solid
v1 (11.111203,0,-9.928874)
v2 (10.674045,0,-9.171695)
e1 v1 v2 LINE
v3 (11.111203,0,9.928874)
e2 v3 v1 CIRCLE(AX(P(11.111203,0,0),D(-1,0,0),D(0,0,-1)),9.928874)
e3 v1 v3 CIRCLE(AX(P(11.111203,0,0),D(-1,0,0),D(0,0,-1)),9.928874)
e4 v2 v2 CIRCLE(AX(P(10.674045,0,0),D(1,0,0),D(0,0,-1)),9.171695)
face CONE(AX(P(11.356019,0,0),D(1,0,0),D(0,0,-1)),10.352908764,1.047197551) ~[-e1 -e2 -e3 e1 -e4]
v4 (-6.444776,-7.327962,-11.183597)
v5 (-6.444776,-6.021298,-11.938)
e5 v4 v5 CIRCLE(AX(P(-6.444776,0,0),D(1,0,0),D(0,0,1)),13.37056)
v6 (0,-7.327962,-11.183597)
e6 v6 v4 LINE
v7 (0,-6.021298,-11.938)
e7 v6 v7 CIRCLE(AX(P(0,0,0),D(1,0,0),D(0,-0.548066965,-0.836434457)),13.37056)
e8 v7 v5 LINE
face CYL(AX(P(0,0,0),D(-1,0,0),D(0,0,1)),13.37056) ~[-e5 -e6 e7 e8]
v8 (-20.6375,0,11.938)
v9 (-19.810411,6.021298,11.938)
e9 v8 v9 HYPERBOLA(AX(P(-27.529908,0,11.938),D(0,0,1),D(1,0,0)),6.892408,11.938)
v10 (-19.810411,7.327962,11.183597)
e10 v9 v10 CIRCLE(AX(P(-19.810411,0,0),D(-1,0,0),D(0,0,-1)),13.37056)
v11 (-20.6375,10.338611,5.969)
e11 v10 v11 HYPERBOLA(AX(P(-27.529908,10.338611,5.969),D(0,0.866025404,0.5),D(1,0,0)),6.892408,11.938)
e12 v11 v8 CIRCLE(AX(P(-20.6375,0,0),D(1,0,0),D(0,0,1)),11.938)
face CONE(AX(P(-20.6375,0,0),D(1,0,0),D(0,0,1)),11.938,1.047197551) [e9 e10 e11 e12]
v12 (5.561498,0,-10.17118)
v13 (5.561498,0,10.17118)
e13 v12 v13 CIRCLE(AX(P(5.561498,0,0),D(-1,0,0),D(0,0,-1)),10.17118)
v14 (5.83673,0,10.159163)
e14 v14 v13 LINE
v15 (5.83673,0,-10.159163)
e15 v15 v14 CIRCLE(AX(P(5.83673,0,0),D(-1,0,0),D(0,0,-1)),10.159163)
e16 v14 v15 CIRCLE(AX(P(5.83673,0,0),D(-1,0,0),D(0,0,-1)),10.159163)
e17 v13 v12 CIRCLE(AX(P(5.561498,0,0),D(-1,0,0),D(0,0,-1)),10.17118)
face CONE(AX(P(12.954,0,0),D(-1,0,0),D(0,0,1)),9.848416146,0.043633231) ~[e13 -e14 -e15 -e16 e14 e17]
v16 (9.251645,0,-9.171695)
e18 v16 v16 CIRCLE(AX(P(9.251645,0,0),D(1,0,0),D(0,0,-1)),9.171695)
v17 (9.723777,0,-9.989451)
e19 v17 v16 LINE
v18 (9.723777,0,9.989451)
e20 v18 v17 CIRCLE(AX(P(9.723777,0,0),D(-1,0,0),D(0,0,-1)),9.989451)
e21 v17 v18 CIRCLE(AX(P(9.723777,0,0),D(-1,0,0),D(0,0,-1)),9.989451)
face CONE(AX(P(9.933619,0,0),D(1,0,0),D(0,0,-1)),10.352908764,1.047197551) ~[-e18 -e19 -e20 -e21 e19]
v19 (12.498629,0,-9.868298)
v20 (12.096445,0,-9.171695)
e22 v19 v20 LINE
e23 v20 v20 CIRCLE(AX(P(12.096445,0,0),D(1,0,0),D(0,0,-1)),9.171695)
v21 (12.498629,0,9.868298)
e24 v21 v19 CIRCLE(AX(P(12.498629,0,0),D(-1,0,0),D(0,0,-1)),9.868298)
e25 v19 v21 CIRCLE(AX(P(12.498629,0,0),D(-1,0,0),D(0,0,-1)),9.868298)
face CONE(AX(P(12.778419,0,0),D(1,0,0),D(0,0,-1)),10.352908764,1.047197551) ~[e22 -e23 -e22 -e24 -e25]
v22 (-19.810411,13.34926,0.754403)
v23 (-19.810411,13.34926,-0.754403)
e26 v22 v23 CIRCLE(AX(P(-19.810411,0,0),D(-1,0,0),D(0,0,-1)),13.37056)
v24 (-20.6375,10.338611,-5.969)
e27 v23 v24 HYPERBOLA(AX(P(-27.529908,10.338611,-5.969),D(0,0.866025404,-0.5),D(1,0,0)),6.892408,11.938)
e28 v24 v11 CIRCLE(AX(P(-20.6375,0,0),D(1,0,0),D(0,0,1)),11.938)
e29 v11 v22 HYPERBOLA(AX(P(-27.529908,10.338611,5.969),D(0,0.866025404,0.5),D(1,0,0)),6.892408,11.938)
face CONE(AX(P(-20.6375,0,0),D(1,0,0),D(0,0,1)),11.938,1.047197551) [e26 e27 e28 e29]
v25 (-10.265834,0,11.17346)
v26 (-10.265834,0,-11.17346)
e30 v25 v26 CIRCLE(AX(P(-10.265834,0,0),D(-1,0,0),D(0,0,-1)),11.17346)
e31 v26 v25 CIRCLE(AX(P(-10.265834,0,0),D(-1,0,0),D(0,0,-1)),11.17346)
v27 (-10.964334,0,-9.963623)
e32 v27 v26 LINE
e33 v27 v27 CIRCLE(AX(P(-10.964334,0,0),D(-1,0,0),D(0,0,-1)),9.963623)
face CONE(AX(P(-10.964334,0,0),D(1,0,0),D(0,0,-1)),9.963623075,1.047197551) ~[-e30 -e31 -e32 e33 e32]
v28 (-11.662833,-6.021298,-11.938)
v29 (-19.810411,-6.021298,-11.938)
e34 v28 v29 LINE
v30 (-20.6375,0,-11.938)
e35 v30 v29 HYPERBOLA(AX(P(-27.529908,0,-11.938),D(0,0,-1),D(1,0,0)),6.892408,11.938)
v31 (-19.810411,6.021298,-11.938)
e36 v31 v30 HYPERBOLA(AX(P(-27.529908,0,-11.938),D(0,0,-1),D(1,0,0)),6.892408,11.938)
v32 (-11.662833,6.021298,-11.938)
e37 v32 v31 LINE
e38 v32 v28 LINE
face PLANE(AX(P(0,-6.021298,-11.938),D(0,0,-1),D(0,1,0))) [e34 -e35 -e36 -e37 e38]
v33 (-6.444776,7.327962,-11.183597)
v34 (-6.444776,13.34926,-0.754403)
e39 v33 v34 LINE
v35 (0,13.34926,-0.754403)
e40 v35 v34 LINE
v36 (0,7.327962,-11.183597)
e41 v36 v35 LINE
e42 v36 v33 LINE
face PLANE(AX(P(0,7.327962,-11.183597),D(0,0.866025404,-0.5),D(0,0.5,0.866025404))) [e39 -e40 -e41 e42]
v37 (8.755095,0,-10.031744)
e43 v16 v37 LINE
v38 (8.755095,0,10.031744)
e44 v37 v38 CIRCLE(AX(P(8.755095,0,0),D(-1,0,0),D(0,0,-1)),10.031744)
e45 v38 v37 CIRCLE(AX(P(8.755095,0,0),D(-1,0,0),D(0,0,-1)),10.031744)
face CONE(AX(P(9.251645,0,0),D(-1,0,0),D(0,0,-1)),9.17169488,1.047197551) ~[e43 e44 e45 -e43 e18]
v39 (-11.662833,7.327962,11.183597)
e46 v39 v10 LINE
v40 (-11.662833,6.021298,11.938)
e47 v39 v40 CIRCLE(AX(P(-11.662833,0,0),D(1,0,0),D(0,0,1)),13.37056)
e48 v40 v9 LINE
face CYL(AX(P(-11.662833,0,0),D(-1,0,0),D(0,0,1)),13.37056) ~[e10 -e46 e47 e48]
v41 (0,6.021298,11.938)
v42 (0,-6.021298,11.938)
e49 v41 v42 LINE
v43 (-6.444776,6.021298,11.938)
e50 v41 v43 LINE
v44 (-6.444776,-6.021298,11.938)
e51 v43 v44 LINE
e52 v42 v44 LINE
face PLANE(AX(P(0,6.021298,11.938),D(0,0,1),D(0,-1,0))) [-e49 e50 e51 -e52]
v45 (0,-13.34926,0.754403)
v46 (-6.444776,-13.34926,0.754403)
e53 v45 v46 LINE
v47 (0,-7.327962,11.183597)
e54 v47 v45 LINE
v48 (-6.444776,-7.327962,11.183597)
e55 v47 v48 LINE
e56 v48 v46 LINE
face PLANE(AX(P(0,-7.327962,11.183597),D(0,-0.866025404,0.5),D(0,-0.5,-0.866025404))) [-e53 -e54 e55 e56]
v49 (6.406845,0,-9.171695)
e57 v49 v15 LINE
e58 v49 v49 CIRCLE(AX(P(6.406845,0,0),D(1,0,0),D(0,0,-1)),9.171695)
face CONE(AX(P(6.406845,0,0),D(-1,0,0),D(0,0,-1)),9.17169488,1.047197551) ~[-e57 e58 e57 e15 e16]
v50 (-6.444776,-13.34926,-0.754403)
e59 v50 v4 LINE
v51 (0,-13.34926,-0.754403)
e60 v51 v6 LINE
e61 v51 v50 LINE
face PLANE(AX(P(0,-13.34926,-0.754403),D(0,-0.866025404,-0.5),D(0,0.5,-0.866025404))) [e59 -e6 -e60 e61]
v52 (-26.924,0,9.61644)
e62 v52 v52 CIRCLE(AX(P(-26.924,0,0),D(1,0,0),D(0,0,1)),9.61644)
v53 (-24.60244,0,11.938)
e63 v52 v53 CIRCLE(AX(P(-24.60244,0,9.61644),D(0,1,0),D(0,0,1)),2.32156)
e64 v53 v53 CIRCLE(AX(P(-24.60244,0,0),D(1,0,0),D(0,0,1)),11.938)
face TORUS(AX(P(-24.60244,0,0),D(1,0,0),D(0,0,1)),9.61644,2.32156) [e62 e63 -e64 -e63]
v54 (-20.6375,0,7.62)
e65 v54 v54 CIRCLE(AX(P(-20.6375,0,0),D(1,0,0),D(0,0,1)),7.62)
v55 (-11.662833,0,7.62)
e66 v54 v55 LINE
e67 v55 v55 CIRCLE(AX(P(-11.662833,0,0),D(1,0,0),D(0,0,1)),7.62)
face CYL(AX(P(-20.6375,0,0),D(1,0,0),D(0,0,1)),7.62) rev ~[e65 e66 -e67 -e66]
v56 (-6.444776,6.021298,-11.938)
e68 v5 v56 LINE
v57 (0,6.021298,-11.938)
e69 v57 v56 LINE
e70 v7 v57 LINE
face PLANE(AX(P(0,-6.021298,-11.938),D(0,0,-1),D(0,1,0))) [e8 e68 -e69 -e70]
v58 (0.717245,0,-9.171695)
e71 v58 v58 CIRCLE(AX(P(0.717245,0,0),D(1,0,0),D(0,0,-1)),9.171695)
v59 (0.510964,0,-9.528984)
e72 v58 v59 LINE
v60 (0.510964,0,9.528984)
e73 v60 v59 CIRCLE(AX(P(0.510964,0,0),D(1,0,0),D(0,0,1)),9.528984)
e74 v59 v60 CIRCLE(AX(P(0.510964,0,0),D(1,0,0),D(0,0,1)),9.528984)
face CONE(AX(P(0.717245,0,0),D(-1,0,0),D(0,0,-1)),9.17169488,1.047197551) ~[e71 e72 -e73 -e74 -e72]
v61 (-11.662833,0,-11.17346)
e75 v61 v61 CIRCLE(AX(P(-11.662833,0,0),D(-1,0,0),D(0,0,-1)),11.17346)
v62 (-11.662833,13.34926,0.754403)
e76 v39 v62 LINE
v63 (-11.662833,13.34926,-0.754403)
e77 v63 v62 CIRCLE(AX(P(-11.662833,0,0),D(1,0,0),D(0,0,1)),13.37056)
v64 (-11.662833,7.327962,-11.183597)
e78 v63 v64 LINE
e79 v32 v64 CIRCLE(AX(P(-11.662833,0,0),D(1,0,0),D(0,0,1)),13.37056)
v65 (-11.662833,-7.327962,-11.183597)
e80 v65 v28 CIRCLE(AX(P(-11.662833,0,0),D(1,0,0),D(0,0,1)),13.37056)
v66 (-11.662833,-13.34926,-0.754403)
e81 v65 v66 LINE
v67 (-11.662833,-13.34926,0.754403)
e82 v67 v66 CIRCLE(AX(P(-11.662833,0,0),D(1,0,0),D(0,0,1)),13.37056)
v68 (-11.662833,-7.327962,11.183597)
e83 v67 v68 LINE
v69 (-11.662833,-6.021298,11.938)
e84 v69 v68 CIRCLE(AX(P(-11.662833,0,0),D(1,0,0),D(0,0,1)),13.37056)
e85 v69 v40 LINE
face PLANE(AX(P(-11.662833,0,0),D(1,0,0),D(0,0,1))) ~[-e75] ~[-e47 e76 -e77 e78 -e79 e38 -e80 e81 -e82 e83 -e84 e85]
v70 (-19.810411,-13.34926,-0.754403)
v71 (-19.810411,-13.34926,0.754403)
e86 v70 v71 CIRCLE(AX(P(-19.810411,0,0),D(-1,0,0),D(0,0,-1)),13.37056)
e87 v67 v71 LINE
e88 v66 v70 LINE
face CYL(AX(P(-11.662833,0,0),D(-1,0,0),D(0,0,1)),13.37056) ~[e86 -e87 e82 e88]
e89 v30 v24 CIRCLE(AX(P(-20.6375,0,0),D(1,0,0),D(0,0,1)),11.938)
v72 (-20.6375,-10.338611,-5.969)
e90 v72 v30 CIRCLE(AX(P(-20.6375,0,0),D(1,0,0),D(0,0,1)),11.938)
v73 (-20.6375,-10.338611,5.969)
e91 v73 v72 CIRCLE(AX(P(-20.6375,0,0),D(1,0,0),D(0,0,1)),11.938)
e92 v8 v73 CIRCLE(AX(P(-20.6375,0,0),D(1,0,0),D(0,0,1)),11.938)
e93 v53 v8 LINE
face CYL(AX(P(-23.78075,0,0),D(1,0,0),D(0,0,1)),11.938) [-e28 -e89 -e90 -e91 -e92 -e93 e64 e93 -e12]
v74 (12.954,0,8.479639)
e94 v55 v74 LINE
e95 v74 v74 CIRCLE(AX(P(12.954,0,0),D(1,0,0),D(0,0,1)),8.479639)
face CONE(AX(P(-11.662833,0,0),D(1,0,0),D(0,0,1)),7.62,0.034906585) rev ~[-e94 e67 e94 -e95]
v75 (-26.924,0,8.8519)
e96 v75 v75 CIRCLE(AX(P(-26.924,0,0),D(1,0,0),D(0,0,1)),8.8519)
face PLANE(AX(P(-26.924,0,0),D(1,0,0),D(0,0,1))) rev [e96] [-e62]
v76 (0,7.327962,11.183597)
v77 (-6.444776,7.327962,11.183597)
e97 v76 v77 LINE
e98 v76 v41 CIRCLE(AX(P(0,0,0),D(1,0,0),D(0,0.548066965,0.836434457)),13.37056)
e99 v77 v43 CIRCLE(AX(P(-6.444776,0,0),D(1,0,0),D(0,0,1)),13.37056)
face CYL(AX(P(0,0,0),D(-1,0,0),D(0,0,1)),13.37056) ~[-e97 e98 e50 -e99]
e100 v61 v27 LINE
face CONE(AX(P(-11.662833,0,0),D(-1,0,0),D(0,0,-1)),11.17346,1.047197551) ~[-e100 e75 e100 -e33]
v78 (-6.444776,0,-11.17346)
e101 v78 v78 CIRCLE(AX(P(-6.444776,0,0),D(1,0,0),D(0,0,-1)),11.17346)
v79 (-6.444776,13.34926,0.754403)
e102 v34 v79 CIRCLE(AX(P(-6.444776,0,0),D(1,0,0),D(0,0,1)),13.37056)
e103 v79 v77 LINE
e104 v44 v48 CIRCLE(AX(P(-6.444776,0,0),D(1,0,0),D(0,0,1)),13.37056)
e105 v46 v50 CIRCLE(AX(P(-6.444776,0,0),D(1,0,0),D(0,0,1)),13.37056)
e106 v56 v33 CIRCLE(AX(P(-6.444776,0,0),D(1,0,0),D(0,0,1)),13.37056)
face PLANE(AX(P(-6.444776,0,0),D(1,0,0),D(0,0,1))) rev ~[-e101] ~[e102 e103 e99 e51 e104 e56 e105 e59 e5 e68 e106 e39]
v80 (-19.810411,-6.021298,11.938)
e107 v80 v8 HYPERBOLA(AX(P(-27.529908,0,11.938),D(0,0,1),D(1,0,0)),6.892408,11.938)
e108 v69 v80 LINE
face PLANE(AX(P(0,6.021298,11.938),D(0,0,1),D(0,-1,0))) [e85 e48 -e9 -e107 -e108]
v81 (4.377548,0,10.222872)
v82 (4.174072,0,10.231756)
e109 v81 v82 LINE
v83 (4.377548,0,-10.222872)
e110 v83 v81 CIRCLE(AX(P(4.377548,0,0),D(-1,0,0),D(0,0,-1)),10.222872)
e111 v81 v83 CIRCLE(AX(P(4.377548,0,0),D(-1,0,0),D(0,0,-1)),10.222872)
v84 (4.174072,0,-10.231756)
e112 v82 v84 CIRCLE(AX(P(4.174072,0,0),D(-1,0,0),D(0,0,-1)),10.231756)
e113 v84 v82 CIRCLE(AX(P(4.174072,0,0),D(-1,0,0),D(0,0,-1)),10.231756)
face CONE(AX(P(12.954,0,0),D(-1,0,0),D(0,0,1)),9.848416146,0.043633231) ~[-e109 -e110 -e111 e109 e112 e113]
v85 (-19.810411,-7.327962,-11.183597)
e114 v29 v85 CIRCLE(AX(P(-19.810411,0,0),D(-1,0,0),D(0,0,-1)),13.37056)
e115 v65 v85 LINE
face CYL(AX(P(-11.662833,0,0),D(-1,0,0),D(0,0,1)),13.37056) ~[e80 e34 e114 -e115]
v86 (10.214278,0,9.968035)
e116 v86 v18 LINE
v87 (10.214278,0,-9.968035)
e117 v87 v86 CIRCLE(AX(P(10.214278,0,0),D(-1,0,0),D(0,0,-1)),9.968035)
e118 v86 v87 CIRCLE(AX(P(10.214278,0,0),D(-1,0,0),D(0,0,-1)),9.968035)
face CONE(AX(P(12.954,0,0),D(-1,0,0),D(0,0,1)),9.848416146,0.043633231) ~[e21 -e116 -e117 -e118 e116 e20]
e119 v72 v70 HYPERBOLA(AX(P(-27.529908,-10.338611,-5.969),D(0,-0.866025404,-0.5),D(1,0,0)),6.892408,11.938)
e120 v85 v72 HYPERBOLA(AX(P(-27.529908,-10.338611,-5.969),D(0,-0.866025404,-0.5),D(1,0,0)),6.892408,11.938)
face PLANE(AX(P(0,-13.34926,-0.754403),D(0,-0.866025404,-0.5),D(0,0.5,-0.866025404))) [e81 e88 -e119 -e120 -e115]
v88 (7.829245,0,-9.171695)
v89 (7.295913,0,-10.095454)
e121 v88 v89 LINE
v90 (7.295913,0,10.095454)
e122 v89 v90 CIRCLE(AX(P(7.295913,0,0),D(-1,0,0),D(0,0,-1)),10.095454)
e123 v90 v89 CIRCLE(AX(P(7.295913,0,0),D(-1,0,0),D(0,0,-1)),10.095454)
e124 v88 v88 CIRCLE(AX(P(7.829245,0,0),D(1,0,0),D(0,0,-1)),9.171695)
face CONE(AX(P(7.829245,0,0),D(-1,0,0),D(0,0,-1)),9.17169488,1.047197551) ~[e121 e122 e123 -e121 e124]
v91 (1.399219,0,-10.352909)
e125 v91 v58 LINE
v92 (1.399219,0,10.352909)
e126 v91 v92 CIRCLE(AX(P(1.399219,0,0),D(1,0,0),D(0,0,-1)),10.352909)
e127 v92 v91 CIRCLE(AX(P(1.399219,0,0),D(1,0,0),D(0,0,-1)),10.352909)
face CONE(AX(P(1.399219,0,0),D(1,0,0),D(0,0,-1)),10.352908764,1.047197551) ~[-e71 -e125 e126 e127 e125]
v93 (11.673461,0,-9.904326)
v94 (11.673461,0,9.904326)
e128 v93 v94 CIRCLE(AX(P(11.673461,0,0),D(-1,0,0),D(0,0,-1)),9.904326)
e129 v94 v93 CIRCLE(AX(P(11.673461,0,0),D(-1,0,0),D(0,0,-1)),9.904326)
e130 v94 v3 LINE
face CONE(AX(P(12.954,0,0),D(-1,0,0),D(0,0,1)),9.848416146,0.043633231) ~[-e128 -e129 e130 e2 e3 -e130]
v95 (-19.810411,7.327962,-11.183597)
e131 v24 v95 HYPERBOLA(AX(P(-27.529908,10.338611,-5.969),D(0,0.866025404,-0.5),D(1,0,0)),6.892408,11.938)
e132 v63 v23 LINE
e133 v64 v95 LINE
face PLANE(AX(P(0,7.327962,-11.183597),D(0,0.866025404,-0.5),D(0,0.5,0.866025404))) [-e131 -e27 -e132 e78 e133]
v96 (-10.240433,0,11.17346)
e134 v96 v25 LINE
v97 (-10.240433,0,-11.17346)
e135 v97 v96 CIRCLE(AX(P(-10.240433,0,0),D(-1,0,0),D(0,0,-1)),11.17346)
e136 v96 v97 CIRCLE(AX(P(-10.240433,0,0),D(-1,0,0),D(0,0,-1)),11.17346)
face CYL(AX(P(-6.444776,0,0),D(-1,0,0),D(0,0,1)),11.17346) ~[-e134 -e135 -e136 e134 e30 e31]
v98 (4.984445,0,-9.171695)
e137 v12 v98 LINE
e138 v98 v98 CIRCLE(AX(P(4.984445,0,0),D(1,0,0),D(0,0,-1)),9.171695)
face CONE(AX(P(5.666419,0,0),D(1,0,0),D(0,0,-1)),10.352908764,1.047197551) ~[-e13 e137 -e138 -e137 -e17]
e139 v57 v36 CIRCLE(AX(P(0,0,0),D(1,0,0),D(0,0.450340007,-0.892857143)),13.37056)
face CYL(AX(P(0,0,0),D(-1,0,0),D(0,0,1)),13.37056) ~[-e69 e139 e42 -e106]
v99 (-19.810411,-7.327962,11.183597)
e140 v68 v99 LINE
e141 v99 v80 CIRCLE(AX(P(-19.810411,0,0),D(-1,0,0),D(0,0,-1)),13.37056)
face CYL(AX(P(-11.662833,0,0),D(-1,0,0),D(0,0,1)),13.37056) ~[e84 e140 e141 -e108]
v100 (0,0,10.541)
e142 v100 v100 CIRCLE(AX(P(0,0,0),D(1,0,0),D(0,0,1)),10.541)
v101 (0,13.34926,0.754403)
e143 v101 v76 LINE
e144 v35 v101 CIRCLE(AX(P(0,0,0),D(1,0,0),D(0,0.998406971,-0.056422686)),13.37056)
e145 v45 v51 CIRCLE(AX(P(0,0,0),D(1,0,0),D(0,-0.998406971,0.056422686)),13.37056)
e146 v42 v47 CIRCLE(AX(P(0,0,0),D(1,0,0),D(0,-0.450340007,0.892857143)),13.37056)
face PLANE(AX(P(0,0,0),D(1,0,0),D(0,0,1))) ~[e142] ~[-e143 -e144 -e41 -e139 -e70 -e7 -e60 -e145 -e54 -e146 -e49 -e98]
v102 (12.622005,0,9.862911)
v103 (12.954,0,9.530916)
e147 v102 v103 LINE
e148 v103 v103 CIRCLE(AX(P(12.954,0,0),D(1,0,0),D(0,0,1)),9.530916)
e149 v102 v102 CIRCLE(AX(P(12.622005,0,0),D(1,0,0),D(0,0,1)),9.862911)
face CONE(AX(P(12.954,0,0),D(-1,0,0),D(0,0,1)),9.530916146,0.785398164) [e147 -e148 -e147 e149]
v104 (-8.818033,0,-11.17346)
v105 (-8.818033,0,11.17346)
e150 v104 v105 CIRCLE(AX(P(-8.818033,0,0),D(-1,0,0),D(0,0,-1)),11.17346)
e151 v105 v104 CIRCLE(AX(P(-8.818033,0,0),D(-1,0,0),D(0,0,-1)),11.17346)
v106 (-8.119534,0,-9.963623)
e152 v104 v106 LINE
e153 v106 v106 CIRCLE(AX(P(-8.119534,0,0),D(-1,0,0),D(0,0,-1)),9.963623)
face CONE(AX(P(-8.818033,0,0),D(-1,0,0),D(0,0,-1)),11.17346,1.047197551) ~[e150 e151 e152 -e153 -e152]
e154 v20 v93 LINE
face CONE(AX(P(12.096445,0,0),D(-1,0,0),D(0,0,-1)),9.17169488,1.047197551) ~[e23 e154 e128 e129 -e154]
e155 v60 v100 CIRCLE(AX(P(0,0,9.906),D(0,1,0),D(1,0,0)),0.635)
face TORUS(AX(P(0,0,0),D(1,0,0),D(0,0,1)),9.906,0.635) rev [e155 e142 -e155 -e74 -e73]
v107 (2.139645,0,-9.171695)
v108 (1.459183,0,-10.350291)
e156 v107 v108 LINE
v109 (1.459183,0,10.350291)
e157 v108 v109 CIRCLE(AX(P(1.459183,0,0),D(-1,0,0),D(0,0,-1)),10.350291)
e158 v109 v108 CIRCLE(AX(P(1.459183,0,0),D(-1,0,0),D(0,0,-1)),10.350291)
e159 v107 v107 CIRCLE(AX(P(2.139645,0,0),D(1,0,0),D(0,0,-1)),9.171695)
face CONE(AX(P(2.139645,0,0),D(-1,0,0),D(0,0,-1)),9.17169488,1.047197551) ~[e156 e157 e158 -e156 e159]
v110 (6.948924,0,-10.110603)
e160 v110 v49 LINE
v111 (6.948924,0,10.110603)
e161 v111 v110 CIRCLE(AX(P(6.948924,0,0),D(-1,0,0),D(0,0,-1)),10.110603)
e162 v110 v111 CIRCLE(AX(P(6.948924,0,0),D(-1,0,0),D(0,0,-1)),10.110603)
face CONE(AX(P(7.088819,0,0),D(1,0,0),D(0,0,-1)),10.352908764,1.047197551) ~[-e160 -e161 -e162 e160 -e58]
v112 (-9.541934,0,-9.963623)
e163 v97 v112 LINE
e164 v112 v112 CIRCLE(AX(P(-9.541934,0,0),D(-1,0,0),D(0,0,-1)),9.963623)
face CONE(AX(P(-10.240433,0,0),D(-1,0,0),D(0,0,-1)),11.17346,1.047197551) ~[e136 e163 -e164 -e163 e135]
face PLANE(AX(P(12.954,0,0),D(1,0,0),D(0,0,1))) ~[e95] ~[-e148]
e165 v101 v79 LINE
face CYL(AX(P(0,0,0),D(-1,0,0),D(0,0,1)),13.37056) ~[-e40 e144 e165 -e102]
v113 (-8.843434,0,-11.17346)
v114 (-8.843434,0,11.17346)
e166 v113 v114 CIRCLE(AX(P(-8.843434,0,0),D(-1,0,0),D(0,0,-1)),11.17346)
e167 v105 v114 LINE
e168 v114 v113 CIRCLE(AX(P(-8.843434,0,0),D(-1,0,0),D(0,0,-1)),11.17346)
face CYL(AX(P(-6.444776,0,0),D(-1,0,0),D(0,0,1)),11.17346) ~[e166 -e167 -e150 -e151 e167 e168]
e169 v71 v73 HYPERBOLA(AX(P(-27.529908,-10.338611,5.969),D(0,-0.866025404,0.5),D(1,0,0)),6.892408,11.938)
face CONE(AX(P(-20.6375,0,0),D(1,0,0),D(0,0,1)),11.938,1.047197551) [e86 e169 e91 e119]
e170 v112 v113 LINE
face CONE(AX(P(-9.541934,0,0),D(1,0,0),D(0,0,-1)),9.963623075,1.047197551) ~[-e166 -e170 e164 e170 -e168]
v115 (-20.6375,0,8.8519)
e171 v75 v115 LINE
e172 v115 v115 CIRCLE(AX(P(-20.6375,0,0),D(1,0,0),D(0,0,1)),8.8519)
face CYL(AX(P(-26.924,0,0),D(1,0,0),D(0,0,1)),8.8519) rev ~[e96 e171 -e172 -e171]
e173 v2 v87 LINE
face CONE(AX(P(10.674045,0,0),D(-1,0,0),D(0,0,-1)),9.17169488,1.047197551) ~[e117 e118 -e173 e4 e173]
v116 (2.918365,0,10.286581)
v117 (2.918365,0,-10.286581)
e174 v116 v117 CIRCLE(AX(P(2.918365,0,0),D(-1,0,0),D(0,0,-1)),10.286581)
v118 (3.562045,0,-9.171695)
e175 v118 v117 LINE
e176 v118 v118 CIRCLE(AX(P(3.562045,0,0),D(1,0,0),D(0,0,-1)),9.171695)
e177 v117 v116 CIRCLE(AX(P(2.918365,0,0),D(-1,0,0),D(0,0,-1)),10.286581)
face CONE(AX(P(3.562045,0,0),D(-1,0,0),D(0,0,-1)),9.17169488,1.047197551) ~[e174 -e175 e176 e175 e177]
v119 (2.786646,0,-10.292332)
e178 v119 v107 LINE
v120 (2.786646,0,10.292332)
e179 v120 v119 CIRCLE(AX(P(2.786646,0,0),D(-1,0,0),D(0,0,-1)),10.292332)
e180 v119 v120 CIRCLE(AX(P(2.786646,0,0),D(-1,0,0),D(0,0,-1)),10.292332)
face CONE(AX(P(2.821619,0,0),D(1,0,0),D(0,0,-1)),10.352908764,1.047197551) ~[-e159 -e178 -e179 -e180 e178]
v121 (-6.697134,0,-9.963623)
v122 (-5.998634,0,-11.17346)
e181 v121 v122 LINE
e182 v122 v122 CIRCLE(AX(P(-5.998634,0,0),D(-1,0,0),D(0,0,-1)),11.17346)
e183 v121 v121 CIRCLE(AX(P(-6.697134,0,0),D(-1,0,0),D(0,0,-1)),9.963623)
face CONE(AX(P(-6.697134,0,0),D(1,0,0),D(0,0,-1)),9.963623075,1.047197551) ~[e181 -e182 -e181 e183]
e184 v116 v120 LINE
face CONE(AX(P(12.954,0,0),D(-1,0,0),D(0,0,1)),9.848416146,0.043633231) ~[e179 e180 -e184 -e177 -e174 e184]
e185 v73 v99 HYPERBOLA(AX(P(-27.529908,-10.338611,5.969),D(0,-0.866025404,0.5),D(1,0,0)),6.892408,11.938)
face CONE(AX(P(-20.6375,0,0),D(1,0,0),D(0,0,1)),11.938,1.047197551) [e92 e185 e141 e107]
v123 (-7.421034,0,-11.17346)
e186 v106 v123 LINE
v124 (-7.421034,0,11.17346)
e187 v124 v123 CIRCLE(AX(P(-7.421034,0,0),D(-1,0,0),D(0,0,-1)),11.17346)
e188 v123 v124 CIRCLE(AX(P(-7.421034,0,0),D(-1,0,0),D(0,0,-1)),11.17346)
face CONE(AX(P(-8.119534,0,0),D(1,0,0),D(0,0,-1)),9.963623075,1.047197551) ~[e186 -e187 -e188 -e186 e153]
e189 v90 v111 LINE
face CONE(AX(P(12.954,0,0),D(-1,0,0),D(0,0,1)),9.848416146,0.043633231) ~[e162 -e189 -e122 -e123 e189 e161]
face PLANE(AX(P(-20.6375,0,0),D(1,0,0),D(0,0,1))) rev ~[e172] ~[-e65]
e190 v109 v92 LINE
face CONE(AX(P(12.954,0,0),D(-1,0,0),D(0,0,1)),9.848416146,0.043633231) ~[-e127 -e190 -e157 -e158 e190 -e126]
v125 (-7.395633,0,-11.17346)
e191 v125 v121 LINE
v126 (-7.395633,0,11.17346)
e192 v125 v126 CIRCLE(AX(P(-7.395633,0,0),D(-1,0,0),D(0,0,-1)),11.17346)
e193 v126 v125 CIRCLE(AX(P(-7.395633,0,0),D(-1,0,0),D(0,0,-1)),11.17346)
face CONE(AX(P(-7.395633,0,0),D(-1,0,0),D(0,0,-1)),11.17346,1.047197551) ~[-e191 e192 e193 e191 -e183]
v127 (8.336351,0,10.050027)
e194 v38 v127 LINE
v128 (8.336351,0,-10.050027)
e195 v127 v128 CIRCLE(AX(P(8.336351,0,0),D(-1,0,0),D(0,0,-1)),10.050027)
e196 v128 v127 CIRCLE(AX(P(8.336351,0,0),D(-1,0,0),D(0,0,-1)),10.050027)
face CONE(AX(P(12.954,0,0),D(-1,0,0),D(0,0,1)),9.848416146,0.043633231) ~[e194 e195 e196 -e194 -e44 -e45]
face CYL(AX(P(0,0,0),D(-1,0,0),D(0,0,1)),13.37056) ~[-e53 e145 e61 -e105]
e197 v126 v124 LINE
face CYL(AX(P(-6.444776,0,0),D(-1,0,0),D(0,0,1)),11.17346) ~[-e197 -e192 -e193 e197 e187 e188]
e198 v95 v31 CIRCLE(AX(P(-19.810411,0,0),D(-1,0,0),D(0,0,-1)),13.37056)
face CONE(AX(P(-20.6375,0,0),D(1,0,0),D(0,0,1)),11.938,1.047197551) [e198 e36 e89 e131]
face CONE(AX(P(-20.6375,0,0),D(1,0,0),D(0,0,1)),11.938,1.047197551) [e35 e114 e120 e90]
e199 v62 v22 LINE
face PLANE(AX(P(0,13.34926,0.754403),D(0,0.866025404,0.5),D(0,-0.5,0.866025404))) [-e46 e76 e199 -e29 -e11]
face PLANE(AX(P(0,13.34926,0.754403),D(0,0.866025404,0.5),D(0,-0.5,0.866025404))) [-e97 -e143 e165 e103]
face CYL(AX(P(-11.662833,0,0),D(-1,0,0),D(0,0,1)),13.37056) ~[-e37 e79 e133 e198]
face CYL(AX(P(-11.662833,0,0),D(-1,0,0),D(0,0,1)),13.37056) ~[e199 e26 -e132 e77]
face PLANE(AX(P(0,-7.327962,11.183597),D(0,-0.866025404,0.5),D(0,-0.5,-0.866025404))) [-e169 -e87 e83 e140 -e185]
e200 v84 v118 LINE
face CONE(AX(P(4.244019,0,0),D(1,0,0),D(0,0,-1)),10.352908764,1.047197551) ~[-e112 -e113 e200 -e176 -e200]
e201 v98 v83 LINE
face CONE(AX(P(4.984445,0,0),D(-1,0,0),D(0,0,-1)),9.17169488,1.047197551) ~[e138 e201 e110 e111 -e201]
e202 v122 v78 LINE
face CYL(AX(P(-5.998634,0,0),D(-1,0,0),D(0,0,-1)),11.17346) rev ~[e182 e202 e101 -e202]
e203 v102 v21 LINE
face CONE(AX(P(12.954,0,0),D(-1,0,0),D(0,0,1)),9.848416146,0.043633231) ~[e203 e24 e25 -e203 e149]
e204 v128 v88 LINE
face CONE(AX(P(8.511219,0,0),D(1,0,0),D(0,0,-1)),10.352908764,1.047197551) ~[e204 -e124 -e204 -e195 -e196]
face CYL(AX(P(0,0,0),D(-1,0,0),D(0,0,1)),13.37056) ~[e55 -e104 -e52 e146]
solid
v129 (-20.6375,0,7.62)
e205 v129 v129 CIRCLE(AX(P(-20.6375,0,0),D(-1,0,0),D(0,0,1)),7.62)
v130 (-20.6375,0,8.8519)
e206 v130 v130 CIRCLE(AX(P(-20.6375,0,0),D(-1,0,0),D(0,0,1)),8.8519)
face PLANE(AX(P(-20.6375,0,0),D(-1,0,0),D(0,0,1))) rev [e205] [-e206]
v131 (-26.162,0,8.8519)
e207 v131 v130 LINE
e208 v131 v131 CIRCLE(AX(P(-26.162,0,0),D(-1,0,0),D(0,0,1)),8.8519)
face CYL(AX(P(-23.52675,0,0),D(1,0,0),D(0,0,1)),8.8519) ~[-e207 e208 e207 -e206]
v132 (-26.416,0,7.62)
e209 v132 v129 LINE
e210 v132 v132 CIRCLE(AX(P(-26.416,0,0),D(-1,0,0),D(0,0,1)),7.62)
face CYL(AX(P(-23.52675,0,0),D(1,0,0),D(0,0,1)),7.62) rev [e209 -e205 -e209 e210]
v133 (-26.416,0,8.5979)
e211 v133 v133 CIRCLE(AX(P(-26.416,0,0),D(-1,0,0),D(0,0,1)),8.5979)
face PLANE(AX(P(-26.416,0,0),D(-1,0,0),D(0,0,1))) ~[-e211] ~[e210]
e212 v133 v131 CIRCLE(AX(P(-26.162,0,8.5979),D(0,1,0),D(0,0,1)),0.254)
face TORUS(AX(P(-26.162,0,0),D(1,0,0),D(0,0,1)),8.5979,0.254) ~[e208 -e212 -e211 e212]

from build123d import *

# Parameters (mm, degrees)
SKETCH2_OUTSIDE_W  = 39.734
SKETCH2_OUTSIDE_H  = 39.734
CUT_EXTRUDE1_DEPTH = 20.6375
SKETCH14_W         = 6.2865
SKETCH14_H         = 1.397
CHAMFER1_SIZE      = 0.332311511
CHAMFER1_SIZE2     = 0.3175
SKETCH3_OUTSIDE_W  = 156.43
SKETCH3_OUTSIDE_H  = 159.296
SKETCH3_OUTSIDE_R  = 11.938
CUT_EXTRUDE2_DEPTH = 34.5915
CUT_EXTRUDE2_DRAFT = -60
SKETCH9_W          = 5.7785
SKETCH9_H          = 1.2319
FILLET1_R          = 2.32156
LPATTERN1_COUNT    = 4
LPATTERN1_PITCH    = 1.4224
LPATTERN2_COUNT    = 10
LPATTERN2_PITCH    = 1.4224
SKETCH15_R         = 0.635
FILLET3_R          = 0.254


with BuildPart() as part:
    # Sketch1 → Revolve1 (revolve)
    with BuildSketch(Plane.XY, mode=Mode.PRIVATE) as revolve1_sk:
        Polygon((-11.662833333, 11.17346), (-11.662833333, 13.37056), (-20.6375, 13.37056), (-20.6375, 10.541), (-26.924, 10.541), (-26.924, 8.8519), (-20.6375, 8.8519), (-20.6375, 7.62), (-11.662833333, 7.62), (12.954, 8.479638762), (12.954, 9.848416146), (0, 10.414), (0, 13.37056), (-6.444776119, 13.37056), (-6.444776119, 11.17346), align=None)
    revolve(revolve1_sk.sketch.rotate(Axis((-18.386021217, 0, 0), (1, 0, 0)), 90), axis=Axis((-18.386021217, 0, 0), (1, 0, 0)))  # turned: the seam where the file's is

    # Sketch2 outside → Cut-Extrude1 (cut)
    with BuildSketch(Plane(origin=(0, 0, 0), x_dir=(0, 0, -1), z_dir=(1, 0, 0))):
        Rectangle(SKETCH2_OUTSIDE_W, SKETCH2_OUTSIDE_H)
        with BuildLine():
            Line((11.938, -6.021298092), (11.938, 6.021298092))
            ThreePointArc((11.938, 6.021298092), (11.579244623, 6.68528), (11.183597111, 7.327962224))
            Line((11.183597111, 7.327962224), (0.754402889, 13.349260316))
            ThreePointArc((0.754402889, 13.349260316), (0, 13.37056), (-0.754402889, 13.349260316))
            Line((-0.754402889, 13.349260316), (-11.183597111, 7.327962224))
            ThreePointArc((-11.183597111, 7.327962224), (-11.579244623, 6.68528), (-11.938, 6.021298092))
            Line((-11.938, 6.021298092), (-11.938, -6.021298092))
            ThreePointArc((-11.938, -6.021298092), (-11.579244623, -6.68528), (-11.183597111, -7.327962224))
            Line((-11.183597111, -7.327962224), (-0.754402889, -13.349260316))
            ThreePointArc((-0.754402889, -13.349260316), (0, -13.37056), (0.754402889, -13.349260316))
            Line((0.754402889, -13.349260316), (11.183597111, -7.327962224))
            ThreePointArc((11.183597111, -7.327962224), (11.579244623, -6.68528), (11.938, -6.021298092))
        make_face(mode=Mode.SUBTRACT)
    extrude(amount=-CUT_EXTRUDE1_DEPTH, mode=Mode.SUBTRACT)

    # Sketch14 → Revolve4 (revolve)
    with BuildSketch(Plane.XY, mode=Mode.PRIVATE) as revolve4_sk:
        with Locations((-23.78075, 11.2395)):
            Rectangle(SKETCH14_W, SKETCH14_H)
    revolve(revolve4_sk.sketch.rotate(Axis((-18.386021217, 0, 0), (1, 0, 0)), 90), axis=Axis((-18.386021217, 0, 0), (1, 0, 0)))  # turned: the seam where the file's is

    # Chamfer1
    chamfer1_edges = [part.edges().sort_by_distance(p)[0] for p in [
        (12.954, 0, -9.848416146),
    ]]
    chamfer1_side = [part.faces().sort_by_distance(p)[0] for p in [
        (6.477, 0, -10.131208073),
    ]]
    chamfer(chamfer1_edges, length=CHAMFER1_SIZE, length2=CHAMFER1_SIZE2, reference=chamfer1_side[0])


with BuildPart() as cut_extrude2_tool:
    # Sketch3 outside → Cut-Extrude2 (with draft: the straight prism first)
    with BuildSketch(Plane.ZY.offset(20.6375)):
        Rectangle(SKETCH3_OUTSIDE_W, SKETCH3_OUTSIDE_H)
        Circle(SKETCH3_OUTSIDE_R, mode=Mode.SUBTRACT)
    extrude(amount=-CUT_EXTRUDE2_DEPTH)
    # Cut-Extrude2: the draft: its side faces are tilted about the plane it starts from
    cut_extrude2_sides = [cut_extrude2_tool.faces().sort_by_distance(p)[0] for p in [
        (-3.34175, -79.648, 0),
        (-3.34175, 0, 78.215),
        (-3.34175, 79.648, 0),
        (-3.34175, 0, -78.215),
        (-3.34175, 0, -11.938),
    ]]
    draft(cut_extrude2_sides, Plane.ZY.offset(20.6375), CUT_EXTRUDE2_DRAFT)


with BuildPart() as part_1:
    add(part.part)

    # Cut-Extrude2: cut by cut_extrude2_tool
    add(cut_extrude2_tool.part, mode=Mode.SUBTRACT)

    # Fillet1
    fillet1_edges = [part_1.edges().sort_by_distance(p)[0] for p in [
        (-26.924, 0, -11.938),
    ]]
    fillet(fillet1_edges, radius=FILLET1_R)

    # Sketch10 → Cut-Revolve1 (revolve, cut)
    with BuildSketch(Plane.XY, mode=Mode.PRIVATE) as cut_revolve1_sk:
        Polygon((-11.662833333, 11.17346), (-10.964333659, 9.963623075), (-10.265833985, 11.17346), align=None)
    cut_revolve1 = revolve(cut_revolve1_sk.sketch.rotate(Axis((15.58962545, 0, 0), (-1, 0, 0)), 90), axis=Axis((15.58962545, 0, 0), (-1, 0, 0)), mode=Mode.SUBTRACT)  # turned: the seam where the file's is

    # LPattern1: Cut-Revolve1 ×4
    with Locations(*[(i * LPATTERN1_PITCH, 0, 0) for i in range(1, LPATTERN1_COUNT)]):
        add(cut_revolve1, mode=Mode.SUBTRACT)

    # Sketch13 → Cut-Revolve2 (revolve, cut)
    with BuildSketch(Plane.XY, mode=Mode.PRIVATE) as cut_revolve2_sk:
        Polygon((0, 10.414), (1.39921935, 10.352908764), (0.717245196, 9.17169488), align=None)
    cut_revolve2 = revolve(cut_revolve2_sk.sketch.rotate(Axis((-18.386021217, 0, 0), (1, 0, 0)), 270), axis=Axis((-18.386021217, 0, 0), (1, 0, 0)), mode=Mode.SUBTRACT)  # turned: the seam where the file's is

    # LPattern2: Cut-Revolve2 ×10
    with Locations(*[(i * LPATTERN2_PITCH, 0, 0) for i in range(1, LPATTERN2_COUNT)]):
        add(cut_revolve2, mode=Mode.SUBTRACT)

    # Sketch15 → Cut-Revolve4 (revolve, cut)
    with BuildSketch(Plane.XY, mode=Mode.PRIVATE) as cut_revolve4_sk:
        with Locations((0, -9.906)):
            Circle(SKETCH15_R)
    revolve(cut_revolve4_sk.sketch.rotate(Axis((10.155027747, 0, 0), (-1, 0, 0)), 90), axis=Axis((10.155027747, 0, 0), (-1, 0, 0)), mode=Mode.SUBTRACT)  # turned: the seam where the file's is


with BuildPart() as body_2:
    # Sketch9 → Revolve3 (revolve)
    with BuildSketch(Plane.XY, mode=Mode.PRIVATE) as revolve3_sk:
        with Locations((-23.52675, 8.23595)):
            Rectangle(SKETCH9_W, SKETCH9_H)
    revolve(revolve3_sk.sketch.rotate(Axis((8.695207459, 0, 0), (-1, 0, 0)), 270), axis=Axis((8.695207459, 0, 0), (-1, 0, 0)))  # turned: the seam where the file's is

    # Fillet3
    fillet3_edges = [body_2.edges().sort_by_distance(p)[0] for p in [
        (-26.416, 0, -8.8519),
    ]]
    fillet(fillet3_edges, radius=FILLET3_R)


solid = Compound([part_1.part, body_2.part])
